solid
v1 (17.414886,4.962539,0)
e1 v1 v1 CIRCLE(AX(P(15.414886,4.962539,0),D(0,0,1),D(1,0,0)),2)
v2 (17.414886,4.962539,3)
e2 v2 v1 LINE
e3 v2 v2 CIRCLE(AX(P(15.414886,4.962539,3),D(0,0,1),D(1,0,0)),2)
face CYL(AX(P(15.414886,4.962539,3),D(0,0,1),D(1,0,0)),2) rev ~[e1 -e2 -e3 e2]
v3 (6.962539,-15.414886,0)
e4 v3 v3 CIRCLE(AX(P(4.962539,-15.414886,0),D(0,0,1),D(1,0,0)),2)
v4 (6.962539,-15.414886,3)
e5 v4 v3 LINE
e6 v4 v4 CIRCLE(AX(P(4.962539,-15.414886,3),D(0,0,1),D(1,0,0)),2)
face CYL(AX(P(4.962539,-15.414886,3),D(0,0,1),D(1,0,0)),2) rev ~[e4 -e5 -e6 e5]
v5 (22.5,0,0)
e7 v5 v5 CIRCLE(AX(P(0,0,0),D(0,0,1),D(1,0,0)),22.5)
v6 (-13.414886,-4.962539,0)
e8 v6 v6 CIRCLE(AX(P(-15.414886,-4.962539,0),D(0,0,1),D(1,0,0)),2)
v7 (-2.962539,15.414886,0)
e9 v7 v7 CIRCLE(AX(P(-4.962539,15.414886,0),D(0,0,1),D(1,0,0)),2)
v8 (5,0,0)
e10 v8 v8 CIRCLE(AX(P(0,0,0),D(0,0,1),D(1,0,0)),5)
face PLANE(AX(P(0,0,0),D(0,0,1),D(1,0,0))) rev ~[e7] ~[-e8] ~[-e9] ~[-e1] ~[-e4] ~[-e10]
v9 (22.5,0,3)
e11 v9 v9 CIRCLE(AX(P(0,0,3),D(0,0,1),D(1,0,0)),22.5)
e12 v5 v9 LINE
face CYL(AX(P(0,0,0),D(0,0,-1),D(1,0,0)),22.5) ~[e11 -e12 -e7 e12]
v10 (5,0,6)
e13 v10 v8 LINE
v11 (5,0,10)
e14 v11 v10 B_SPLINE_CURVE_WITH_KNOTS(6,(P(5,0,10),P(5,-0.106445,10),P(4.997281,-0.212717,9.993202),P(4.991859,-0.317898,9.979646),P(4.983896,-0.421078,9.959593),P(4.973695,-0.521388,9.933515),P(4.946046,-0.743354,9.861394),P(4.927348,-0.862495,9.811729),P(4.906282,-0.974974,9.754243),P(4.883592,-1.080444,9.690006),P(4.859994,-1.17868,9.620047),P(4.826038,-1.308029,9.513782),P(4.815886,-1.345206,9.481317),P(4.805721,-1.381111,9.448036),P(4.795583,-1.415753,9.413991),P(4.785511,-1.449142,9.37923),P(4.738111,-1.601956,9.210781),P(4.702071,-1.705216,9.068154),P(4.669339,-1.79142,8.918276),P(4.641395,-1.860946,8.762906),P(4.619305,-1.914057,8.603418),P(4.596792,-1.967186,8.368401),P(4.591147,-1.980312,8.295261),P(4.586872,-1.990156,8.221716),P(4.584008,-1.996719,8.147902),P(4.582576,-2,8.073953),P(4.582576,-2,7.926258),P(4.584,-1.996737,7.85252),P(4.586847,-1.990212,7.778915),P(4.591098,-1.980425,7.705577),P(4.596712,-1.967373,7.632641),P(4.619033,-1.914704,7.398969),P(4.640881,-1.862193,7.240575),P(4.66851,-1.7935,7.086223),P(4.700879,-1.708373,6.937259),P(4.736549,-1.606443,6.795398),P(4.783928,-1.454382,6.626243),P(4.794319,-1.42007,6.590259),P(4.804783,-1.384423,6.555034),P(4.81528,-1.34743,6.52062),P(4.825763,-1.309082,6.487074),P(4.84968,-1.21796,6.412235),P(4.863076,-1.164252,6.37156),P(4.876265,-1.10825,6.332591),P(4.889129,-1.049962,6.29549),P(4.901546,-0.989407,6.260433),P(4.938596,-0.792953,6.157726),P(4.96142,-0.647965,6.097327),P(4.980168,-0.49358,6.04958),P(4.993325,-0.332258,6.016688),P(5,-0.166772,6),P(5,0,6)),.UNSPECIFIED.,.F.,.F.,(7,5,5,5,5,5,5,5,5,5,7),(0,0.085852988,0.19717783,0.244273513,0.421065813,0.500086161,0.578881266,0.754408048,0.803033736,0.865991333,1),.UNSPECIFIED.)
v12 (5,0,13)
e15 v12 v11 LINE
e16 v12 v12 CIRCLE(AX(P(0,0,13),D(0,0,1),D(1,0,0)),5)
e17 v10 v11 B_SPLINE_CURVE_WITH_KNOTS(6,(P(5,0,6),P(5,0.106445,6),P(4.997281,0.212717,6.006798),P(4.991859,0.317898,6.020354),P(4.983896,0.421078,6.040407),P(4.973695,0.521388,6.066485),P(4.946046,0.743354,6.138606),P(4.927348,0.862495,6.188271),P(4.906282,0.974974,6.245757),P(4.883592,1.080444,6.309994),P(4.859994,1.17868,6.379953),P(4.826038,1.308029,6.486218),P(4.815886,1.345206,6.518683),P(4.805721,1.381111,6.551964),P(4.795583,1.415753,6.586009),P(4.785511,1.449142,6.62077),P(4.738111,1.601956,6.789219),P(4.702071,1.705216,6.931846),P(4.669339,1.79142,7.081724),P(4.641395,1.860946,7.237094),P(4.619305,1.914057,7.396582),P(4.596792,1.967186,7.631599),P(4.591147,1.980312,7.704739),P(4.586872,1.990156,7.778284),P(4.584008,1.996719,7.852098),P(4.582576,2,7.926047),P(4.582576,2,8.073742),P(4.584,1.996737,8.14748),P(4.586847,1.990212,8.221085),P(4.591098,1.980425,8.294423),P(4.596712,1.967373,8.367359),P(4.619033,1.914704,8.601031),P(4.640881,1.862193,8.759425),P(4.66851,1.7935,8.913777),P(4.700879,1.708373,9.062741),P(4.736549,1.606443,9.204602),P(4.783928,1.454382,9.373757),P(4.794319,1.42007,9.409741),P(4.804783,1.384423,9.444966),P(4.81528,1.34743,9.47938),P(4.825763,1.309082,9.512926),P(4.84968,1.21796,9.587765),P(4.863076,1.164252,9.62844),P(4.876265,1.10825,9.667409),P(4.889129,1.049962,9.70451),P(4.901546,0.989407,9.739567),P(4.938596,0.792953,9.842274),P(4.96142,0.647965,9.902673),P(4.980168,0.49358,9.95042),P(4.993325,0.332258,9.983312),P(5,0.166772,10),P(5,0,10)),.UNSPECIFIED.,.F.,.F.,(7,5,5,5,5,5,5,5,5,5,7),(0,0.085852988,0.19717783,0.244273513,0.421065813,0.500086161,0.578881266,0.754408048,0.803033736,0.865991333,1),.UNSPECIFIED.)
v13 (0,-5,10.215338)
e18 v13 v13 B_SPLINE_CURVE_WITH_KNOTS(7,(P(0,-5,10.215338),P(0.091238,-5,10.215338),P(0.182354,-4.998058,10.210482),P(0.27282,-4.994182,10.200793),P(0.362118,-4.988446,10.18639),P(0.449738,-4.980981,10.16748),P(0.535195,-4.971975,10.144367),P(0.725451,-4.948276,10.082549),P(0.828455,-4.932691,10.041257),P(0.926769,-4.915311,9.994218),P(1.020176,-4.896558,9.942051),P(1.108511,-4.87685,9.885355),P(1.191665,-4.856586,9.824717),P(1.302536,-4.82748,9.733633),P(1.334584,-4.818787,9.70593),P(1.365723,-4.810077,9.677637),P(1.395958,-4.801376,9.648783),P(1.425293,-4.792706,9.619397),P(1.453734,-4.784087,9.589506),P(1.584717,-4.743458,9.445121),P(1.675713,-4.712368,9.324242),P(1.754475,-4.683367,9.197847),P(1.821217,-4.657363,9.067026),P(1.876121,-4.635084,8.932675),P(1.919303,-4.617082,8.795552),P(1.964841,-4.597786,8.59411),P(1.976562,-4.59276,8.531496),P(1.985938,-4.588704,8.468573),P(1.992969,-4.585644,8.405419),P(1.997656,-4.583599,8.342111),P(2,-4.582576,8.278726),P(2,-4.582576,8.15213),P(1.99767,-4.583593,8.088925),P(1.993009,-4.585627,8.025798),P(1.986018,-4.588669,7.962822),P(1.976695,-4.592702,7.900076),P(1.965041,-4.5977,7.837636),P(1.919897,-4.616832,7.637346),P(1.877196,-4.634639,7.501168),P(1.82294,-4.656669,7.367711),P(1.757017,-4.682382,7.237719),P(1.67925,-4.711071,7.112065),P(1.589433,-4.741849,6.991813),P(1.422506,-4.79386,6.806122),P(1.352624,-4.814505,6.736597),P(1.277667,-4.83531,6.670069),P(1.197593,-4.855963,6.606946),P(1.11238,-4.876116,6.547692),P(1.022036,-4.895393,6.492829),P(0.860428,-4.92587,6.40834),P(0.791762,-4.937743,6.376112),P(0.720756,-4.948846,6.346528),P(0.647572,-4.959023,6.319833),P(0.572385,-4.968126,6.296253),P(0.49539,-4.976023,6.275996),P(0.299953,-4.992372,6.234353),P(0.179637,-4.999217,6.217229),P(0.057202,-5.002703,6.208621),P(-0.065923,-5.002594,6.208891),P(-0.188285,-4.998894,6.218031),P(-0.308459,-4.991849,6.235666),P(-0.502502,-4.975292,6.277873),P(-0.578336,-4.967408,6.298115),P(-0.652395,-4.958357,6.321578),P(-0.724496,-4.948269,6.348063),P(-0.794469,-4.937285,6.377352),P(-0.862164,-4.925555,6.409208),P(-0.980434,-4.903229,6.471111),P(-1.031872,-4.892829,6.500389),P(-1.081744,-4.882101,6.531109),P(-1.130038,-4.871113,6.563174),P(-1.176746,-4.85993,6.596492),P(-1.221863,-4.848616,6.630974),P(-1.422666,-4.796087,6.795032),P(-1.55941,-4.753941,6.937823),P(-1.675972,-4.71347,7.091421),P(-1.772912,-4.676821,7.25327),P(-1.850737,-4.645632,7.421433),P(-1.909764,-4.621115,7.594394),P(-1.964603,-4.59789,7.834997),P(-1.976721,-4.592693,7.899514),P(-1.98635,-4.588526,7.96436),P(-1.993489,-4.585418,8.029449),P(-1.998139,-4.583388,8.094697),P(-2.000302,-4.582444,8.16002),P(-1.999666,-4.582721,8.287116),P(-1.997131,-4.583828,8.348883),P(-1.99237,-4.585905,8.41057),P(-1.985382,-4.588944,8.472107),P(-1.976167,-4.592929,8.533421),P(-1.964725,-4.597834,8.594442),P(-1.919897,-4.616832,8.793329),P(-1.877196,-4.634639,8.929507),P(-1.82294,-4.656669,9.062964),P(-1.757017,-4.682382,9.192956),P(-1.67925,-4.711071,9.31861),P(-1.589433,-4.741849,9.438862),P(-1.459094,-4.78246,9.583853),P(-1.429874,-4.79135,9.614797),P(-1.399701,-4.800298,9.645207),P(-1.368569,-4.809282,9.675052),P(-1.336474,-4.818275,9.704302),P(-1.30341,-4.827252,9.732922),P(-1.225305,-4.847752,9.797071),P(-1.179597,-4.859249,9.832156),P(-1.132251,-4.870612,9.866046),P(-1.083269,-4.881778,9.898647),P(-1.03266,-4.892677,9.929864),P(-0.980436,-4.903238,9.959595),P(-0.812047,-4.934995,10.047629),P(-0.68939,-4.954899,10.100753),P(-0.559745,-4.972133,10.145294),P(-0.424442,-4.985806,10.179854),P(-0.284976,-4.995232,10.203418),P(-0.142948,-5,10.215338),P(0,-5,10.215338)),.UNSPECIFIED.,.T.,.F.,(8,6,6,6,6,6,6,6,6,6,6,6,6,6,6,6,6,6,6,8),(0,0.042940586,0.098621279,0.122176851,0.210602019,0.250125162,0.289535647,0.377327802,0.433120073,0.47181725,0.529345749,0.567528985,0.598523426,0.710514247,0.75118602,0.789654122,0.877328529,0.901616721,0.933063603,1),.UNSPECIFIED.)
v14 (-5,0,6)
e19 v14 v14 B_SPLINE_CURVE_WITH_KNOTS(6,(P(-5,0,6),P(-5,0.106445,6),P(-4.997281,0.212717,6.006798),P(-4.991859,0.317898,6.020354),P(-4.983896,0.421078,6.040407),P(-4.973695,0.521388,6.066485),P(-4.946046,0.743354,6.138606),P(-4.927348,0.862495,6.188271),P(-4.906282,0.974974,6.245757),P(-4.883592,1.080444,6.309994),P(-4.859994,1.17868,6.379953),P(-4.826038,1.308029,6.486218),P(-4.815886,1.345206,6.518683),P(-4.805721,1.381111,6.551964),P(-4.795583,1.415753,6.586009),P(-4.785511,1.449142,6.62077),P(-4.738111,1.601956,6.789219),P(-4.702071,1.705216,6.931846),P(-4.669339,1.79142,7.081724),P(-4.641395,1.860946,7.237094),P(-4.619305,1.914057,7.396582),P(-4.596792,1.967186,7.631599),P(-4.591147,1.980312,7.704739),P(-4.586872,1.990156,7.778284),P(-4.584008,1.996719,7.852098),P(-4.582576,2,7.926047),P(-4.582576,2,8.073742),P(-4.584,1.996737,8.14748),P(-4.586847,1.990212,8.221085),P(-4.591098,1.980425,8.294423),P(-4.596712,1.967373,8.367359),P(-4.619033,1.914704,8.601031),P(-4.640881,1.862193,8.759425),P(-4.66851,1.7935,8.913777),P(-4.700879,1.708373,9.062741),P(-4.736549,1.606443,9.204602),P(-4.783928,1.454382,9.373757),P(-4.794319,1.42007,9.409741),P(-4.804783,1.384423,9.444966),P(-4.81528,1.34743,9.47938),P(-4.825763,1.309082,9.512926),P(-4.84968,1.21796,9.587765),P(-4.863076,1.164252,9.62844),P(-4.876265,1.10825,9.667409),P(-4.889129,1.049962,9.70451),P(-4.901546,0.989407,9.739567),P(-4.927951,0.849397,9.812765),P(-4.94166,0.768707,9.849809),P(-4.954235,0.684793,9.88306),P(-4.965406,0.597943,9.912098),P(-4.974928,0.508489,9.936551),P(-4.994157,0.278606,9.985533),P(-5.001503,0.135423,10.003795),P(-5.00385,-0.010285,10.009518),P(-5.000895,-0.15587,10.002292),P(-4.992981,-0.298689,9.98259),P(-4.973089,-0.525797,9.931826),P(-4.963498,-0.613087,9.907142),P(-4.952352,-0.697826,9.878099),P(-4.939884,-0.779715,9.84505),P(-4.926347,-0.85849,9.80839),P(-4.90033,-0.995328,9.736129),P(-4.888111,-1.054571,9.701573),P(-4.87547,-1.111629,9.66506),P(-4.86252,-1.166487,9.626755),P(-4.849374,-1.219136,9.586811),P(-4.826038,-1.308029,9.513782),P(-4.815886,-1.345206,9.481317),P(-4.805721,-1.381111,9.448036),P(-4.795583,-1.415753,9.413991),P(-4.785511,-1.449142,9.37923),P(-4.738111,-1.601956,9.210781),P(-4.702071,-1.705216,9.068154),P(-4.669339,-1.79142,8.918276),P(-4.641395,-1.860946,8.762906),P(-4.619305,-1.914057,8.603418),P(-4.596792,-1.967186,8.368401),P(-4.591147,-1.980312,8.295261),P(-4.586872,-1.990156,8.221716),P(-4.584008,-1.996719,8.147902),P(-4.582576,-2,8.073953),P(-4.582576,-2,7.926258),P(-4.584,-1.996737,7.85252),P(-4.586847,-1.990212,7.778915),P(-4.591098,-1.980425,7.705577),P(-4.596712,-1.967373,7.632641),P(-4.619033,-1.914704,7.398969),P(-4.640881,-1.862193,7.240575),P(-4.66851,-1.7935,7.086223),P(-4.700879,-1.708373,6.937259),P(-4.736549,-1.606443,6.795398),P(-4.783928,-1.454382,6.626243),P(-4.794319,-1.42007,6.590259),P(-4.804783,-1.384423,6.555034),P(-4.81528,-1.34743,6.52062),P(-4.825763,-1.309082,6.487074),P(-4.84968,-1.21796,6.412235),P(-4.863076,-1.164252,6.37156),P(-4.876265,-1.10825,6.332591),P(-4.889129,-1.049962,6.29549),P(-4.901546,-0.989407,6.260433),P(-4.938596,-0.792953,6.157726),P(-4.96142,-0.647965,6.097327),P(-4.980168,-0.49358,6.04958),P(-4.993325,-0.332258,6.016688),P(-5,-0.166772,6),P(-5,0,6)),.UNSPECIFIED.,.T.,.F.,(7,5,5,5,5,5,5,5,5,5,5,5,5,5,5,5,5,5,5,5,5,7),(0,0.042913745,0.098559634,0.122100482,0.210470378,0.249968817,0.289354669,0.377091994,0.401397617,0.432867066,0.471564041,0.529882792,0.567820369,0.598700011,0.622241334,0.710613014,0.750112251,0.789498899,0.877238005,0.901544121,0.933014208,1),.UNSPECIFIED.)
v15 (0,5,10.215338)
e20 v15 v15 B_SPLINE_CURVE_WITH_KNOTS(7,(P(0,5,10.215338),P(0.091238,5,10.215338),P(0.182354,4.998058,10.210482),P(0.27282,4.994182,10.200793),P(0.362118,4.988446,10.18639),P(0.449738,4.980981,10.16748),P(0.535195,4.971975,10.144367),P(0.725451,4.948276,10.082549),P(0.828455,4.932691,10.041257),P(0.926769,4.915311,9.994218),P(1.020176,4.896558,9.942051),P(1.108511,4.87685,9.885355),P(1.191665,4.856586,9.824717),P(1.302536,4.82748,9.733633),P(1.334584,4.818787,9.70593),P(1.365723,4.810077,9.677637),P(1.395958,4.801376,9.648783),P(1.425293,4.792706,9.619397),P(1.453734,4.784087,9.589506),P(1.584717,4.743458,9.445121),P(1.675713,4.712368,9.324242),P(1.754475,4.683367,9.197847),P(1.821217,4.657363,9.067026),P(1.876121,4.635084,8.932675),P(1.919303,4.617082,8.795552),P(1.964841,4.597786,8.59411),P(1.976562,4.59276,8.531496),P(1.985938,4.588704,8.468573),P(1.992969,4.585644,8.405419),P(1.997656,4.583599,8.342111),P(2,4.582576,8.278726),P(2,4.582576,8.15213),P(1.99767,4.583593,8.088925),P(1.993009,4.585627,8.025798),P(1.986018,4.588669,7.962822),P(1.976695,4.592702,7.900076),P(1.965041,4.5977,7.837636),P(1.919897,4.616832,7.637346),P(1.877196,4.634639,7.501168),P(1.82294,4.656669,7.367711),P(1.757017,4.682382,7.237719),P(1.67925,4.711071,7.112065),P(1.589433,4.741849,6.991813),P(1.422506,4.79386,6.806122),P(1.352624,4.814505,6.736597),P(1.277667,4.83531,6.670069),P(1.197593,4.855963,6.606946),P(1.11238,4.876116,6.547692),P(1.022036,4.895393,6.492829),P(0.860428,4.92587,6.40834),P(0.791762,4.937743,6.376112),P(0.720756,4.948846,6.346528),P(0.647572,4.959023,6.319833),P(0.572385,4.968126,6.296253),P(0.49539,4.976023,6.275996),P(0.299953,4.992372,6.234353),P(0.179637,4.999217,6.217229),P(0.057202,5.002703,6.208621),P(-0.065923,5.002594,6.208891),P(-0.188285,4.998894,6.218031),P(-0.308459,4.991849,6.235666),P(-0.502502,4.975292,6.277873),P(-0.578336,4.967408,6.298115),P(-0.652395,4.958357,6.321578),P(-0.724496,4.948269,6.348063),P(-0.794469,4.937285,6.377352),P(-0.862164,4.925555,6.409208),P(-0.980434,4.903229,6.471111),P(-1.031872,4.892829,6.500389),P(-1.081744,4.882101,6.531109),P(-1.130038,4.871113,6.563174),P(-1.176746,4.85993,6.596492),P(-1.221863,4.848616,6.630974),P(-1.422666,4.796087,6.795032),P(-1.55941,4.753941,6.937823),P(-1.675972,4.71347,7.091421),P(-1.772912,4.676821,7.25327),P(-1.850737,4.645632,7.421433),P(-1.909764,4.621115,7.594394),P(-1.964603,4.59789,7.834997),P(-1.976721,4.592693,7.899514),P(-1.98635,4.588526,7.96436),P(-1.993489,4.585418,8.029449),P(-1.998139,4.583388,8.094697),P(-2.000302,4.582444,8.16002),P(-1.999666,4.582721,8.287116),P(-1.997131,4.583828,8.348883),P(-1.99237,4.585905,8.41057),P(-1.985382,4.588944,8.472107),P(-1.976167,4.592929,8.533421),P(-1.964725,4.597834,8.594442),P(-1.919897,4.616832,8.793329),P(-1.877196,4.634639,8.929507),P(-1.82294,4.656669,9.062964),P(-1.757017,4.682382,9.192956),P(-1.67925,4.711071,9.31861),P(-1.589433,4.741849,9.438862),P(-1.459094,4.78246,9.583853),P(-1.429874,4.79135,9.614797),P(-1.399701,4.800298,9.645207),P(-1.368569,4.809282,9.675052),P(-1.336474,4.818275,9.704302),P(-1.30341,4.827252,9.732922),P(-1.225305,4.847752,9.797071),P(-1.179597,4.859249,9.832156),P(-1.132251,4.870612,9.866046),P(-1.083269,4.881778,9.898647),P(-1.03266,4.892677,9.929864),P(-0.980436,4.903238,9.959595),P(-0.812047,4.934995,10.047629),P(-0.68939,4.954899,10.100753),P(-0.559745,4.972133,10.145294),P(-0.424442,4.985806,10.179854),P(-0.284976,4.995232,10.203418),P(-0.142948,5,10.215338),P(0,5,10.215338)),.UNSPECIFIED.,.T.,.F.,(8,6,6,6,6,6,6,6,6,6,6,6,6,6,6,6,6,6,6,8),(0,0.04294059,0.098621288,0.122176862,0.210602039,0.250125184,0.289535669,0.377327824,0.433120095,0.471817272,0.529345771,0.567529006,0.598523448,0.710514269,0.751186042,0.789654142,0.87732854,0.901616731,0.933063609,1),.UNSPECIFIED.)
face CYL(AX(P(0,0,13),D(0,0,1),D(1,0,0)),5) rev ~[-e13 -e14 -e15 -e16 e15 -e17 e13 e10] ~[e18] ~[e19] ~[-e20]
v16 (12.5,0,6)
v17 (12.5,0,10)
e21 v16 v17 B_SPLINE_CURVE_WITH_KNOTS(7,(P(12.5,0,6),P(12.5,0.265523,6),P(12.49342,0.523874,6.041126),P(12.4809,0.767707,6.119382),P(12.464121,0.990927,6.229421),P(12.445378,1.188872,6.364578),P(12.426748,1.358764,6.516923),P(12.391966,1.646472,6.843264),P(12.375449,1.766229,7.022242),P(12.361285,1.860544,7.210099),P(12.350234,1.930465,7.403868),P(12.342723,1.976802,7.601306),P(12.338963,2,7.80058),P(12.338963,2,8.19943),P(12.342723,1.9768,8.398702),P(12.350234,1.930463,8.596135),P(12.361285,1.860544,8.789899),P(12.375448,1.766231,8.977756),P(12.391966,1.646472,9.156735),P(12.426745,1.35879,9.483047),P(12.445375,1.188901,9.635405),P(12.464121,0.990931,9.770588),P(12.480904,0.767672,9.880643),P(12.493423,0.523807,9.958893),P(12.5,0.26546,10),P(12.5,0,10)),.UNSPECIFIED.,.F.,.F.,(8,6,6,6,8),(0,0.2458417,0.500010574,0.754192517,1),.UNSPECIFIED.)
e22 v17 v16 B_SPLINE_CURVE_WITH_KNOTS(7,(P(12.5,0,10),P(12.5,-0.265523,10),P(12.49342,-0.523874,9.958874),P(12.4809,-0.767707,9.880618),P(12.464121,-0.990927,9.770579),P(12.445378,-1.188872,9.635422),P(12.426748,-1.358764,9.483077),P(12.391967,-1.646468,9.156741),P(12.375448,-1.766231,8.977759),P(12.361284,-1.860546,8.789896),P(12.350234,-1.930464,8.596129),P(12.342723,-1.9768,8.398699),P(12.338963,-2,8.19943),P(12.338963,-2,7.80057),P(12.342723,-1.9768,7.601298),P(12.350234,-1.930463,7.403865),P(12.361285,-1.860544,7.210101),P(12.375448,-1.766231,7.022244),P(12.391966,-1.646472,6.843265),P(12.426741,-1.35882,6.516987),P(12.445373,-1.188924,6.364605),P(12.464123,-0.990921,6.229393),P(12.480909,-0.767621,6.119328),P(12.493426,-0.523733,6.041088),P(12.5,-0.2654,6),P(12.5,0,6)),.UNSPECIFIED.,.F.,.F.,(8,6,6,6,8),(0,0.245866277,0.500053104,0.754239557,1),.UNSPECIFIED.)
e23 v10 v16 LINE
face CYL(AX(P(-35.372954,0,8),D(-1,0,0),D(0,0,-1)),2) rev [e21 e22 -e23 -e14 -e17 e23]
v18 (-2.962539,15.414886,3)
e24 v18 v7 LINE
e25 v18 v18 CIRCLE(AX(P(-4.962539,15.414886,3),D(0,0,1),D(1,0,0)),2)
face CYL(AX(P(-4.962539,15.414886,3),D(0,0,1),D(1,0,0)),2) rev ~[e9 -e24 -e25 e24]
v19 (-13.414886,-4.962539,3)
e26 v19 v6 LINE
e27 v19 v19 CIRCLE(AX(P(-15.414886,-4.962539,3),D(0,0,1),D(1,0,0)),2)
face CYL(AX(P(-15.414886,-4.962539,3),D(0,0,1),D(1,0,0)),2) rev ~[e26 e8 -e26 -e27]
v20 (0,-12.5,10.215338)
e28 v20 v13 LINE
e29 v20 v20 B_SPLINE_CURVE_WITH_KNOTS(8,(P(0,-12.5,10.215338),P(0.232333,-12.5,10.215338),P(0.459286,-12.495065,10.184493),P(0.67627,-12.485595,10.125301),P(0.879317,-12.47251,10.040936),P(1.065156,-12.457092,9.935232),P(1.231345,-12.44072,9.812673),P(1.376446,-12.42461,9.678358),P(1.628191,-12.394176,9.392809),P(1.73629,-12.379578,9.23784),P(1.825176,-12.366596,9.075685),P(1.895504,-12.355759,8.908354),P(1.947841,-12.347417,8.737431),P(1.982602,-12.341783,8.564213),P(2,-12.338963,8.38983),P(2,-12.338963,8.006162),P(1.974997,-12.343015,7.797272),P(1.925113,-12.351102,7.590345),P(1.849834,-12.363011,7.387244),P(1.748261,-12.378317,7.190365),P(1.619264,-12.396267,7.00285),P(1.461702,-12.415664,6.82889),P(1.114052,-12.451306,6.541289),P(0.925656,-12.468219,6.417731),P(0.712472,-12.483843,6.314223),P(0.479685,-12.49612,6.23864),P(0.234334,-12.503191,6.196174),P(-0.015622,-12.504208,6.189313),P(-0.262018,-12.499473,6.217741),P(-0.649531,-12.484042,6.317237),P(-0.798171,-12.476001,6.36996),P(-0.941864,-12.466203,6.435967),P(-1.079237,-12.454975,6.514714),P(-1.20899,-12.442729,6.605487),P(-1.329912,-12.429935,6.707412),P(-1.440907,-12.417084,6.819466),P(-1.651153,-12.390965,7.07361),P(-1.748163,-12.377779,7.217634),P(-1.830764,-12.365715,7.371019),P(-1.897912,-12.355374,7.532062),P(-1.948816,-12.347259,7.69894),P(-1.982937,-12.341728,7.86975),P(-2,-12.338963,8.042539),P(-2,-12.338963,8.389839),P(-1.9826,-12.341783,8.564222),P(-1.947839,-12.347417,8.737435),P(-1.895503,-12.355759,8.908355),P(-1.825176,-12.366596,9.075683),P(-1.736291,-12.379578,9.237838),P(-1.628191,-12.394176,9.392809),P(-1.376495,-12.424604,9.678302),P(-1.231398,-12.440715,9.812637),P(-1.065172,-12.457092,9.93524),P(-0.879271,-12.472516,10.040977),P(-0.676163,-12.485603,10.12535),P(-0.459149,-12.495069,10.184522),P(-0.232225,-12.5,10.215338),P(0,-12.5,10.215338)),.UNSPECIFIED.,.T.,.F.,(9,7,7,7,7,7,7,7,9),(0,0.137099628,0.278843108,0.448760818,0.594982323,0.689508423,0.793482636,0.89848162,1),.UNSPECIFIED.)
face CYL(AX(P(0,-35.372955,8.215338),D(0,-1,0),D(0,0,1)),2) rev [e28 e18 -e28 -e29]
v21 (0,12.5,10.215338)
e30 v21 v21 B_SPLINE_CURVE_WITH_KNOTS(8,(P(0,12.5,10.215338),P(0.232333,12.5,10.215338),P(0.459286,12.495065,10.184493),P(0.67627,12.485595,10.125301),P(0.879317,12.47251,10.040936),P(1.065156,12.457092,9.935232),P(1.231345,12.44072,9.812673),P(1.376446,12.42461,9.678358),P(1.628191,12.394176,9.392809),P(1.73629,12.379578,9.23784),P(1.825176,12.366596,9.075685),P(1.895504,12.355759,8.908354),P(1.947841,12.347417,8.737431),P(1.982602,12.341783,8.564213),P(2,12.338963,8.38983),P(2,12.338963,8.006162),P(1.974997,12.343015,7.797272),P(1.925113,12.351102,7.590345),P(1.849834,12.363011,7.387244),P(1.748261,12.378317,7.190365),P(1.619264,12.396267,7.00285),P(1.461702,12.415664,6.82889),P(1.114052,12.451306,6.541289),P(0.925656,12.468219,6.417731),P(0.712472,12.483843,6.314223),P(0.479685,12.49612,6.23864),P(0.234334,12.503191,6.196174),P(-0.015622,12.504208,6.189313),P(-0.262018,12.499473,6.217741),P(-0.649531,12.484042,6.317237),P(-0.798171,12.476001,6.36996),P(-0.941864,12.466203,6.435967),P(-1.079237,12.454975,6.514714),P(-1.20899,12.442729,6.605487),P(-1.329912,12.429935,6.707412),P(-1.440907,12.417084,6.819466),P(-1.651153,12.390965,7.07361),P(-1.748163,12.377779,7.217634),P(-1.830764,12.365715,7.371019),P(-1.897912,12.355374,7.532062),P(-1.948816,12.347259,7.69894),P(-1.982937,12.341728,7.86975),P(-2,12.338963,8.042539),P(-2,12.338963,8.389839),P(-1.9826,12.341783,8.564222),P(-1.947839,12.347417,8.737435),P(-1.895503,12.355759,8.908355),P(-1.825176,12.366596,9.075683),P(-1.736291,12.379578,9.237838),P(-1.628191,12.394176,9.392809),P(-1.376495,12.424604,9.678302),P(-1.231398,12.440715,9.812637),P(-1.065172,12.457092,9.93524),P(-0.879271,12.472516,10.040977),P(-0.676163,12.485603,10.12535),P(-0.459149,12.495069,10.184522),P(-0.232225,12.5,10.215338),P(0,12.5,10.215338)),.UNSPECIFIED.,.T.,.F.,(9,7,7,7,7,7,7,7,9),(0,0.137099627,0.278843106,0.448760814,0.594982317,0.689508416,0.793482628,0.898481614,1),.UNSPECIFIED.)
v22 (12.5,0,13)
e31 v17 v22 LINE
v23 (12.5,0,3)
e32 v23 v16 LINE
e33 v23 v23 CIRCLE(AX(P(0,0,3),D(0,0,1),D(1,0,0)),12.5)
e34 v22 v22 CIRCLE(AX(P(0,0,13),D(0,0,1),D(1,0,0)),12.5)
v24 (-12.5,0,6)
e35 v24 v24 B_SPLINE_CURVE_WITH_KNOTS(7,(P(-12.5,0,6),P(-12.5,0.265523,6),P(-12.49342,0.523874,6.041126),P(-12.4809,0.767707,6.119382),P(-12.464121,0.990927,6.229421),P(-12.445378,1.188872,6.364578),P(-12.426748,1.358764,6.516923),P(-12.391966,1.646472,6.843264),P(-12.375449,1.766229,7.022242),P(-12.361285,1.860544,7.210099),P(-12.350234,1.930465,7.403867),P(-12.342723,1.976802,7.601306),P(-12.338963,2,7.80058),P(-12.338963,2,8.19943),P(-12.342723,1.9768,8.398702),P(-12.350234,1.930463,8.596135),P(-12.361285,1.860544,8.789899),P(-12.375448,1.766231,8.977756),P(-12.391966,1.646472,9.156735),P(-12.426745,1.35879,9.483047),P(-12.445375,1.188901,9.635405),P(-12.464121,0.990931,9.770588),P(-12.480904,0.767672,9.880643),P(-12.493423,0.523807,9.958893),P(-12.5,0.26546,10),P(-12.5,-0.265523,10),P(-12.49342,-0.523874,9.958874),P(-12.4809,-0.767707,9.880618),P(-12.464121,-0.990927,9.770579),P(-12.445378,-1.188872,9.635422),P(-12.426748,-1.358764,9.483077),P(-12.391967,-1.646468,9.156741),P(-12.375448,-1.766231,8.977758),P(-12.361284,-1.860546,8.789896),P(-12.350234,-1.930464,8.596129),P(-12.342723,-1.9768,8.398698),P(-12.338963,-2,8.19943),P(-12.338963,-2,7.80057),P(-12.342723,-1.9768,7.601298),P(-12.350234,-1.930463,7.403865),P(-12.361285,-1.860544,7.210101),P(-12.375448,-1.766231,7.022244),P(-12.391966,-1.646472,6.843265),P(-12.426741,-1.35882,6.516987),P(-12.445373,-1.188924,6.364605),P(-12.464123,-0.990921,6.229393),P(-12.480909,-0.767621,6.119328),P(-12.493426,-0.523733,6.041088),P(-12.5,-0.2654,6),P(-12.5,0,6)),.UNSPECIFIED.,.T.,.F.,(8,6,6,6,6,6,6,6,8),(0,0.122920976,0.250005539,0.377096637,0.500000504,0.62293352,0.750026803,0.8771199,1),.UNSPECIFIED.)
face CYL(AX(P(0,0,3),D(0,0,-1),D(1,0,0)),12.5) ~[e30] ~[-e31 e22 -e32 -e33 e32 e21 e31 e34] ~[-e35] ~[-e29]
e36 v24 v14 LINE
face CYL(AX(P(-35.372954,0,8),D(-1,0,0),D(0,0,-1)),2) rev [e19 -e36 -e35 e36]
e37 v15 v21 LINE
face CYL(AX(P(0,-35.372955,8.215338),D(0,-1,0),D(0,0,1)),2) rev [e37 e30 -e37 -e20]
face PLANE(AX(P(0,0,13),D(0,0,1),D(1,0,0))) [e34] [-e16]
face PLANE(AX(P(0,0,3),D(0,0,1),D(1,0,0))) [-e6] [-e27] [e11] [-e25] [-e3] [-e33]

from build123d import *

# Parameters (mm, degrees)
CROQUIS1_R                 = 22.5
SALIENTE_EXTRUIR1_DEPTH    = 3
CROQUIS2_R                 = 12.5
SALIENTE_EXTRUIR2_DEPTH    = 10
CROQUIS3_R                 = 5
CORTAR_EXTRUIR1_DEPTH      = 35.372954485
CROQUIS4_R                 = 2
CORTAR_EXTRUIR2_DEPTH      = 34.35416016
CORTAR_EXTRUIR3_DEPTH      = 35.372954485
CORTAR_EXTRUIR3_DEPTH_BACK = 35.372954485
CROQUIS5_R                 = 2
CORTAR_EXTRUIR4_DEPTH      = 35.372954522
CORTAR_EXTRUIR4_DEPTH_BACK = 35.372954522
CROQUIS6_R                 = 2


with BuildPart() as part:
    # Croquis1 → Saliente-Extruir1 (new body)
    with BuildSketch(Plane.XY):
        Circle(CROQUIS1_R)
    extrude(amount=SALIENTE_EXTRUIR1_DEPTH)

    # Croquis2 → Saliente-Extruir2 (add)
    with BuildSketch(Plane.XY.offset(3)):
        Circle(CROQUIS2_R)
    extrude(amount=SALIENTE_EXTRUIR2_DEPTH)

    # Croquis3 → Cortar-Extruir1 (cut, through all)
    with BuildSketch(Plane.XY.offset(13)):
        Circle(CROQUIS3_R)
    extrude(amount=-CORTAR_EXTRUIR1_DEPTH, mode=Mode.SUBTRACT)

    # Croquis4 → Cortar-Extruir2 (cut, through all)
    with BuildSketch(Plane.XY.offset(3)):
        with Locations((-4.962538649, 15.414885677)):
            Circle(CROQUIS4_R)
        with Locations((15.414885677, 4.962538649)):
            Circle(CROQUIS4_R)
        with Locations((4.962538649, -15.414885677)):
            Circle(CROQUIS4_R)
        with Locations((-15.414885677, -4.962538649)):
            Circle(CROQUIS4_R)
    extrude(amount=-CORTAR_EXTRUIR2_DEPTH, mode=Mode.SUBTRACT)

    # Croquis5 → Cortar-Extruir3 (cut, two sides: drawn at the far end of the back side and taken through both)
    with BuildSketch(Plane(origin=(0, 0, 0), x_dir=(0, 0, -1), z_dir=(1, 0, 0)).offset(-CORTAR_EXTRUIR3_DEPTH_BACK)):
        with Locations((-8, 0)):
            Circle(CROQUIS5_R)
    extrude(amount=CORTAR_EXTRUIR3_DEPTH + CORTAR_EXTRUIR3_DEPTH_BACK, mode=Mode.SUBTRACT)

    # Croquis6 → Cortar-Extruir4 (cut, two sides: drawn at the far end of the back side and taken through both)
    with BuildSketch(Plane(origin=(0, 0, 0), x_dir=(1, 0, 0), z_dir=(0, 1, 0)).offset(-CORTAR_EXTRUIR4_DEPTH_BACK)):
        with Locations(Location((0, -8.215337569, 0), (0, 0, 270))):
            Circle(CROQUIS6_R)
    extrude(amount=CORTAR_EXTRUIR4_DEPTH + CORTAR_EXTRUIR4_DEPTH_BACK, mode=Mode.SUBTRACT)


solid = part.part
